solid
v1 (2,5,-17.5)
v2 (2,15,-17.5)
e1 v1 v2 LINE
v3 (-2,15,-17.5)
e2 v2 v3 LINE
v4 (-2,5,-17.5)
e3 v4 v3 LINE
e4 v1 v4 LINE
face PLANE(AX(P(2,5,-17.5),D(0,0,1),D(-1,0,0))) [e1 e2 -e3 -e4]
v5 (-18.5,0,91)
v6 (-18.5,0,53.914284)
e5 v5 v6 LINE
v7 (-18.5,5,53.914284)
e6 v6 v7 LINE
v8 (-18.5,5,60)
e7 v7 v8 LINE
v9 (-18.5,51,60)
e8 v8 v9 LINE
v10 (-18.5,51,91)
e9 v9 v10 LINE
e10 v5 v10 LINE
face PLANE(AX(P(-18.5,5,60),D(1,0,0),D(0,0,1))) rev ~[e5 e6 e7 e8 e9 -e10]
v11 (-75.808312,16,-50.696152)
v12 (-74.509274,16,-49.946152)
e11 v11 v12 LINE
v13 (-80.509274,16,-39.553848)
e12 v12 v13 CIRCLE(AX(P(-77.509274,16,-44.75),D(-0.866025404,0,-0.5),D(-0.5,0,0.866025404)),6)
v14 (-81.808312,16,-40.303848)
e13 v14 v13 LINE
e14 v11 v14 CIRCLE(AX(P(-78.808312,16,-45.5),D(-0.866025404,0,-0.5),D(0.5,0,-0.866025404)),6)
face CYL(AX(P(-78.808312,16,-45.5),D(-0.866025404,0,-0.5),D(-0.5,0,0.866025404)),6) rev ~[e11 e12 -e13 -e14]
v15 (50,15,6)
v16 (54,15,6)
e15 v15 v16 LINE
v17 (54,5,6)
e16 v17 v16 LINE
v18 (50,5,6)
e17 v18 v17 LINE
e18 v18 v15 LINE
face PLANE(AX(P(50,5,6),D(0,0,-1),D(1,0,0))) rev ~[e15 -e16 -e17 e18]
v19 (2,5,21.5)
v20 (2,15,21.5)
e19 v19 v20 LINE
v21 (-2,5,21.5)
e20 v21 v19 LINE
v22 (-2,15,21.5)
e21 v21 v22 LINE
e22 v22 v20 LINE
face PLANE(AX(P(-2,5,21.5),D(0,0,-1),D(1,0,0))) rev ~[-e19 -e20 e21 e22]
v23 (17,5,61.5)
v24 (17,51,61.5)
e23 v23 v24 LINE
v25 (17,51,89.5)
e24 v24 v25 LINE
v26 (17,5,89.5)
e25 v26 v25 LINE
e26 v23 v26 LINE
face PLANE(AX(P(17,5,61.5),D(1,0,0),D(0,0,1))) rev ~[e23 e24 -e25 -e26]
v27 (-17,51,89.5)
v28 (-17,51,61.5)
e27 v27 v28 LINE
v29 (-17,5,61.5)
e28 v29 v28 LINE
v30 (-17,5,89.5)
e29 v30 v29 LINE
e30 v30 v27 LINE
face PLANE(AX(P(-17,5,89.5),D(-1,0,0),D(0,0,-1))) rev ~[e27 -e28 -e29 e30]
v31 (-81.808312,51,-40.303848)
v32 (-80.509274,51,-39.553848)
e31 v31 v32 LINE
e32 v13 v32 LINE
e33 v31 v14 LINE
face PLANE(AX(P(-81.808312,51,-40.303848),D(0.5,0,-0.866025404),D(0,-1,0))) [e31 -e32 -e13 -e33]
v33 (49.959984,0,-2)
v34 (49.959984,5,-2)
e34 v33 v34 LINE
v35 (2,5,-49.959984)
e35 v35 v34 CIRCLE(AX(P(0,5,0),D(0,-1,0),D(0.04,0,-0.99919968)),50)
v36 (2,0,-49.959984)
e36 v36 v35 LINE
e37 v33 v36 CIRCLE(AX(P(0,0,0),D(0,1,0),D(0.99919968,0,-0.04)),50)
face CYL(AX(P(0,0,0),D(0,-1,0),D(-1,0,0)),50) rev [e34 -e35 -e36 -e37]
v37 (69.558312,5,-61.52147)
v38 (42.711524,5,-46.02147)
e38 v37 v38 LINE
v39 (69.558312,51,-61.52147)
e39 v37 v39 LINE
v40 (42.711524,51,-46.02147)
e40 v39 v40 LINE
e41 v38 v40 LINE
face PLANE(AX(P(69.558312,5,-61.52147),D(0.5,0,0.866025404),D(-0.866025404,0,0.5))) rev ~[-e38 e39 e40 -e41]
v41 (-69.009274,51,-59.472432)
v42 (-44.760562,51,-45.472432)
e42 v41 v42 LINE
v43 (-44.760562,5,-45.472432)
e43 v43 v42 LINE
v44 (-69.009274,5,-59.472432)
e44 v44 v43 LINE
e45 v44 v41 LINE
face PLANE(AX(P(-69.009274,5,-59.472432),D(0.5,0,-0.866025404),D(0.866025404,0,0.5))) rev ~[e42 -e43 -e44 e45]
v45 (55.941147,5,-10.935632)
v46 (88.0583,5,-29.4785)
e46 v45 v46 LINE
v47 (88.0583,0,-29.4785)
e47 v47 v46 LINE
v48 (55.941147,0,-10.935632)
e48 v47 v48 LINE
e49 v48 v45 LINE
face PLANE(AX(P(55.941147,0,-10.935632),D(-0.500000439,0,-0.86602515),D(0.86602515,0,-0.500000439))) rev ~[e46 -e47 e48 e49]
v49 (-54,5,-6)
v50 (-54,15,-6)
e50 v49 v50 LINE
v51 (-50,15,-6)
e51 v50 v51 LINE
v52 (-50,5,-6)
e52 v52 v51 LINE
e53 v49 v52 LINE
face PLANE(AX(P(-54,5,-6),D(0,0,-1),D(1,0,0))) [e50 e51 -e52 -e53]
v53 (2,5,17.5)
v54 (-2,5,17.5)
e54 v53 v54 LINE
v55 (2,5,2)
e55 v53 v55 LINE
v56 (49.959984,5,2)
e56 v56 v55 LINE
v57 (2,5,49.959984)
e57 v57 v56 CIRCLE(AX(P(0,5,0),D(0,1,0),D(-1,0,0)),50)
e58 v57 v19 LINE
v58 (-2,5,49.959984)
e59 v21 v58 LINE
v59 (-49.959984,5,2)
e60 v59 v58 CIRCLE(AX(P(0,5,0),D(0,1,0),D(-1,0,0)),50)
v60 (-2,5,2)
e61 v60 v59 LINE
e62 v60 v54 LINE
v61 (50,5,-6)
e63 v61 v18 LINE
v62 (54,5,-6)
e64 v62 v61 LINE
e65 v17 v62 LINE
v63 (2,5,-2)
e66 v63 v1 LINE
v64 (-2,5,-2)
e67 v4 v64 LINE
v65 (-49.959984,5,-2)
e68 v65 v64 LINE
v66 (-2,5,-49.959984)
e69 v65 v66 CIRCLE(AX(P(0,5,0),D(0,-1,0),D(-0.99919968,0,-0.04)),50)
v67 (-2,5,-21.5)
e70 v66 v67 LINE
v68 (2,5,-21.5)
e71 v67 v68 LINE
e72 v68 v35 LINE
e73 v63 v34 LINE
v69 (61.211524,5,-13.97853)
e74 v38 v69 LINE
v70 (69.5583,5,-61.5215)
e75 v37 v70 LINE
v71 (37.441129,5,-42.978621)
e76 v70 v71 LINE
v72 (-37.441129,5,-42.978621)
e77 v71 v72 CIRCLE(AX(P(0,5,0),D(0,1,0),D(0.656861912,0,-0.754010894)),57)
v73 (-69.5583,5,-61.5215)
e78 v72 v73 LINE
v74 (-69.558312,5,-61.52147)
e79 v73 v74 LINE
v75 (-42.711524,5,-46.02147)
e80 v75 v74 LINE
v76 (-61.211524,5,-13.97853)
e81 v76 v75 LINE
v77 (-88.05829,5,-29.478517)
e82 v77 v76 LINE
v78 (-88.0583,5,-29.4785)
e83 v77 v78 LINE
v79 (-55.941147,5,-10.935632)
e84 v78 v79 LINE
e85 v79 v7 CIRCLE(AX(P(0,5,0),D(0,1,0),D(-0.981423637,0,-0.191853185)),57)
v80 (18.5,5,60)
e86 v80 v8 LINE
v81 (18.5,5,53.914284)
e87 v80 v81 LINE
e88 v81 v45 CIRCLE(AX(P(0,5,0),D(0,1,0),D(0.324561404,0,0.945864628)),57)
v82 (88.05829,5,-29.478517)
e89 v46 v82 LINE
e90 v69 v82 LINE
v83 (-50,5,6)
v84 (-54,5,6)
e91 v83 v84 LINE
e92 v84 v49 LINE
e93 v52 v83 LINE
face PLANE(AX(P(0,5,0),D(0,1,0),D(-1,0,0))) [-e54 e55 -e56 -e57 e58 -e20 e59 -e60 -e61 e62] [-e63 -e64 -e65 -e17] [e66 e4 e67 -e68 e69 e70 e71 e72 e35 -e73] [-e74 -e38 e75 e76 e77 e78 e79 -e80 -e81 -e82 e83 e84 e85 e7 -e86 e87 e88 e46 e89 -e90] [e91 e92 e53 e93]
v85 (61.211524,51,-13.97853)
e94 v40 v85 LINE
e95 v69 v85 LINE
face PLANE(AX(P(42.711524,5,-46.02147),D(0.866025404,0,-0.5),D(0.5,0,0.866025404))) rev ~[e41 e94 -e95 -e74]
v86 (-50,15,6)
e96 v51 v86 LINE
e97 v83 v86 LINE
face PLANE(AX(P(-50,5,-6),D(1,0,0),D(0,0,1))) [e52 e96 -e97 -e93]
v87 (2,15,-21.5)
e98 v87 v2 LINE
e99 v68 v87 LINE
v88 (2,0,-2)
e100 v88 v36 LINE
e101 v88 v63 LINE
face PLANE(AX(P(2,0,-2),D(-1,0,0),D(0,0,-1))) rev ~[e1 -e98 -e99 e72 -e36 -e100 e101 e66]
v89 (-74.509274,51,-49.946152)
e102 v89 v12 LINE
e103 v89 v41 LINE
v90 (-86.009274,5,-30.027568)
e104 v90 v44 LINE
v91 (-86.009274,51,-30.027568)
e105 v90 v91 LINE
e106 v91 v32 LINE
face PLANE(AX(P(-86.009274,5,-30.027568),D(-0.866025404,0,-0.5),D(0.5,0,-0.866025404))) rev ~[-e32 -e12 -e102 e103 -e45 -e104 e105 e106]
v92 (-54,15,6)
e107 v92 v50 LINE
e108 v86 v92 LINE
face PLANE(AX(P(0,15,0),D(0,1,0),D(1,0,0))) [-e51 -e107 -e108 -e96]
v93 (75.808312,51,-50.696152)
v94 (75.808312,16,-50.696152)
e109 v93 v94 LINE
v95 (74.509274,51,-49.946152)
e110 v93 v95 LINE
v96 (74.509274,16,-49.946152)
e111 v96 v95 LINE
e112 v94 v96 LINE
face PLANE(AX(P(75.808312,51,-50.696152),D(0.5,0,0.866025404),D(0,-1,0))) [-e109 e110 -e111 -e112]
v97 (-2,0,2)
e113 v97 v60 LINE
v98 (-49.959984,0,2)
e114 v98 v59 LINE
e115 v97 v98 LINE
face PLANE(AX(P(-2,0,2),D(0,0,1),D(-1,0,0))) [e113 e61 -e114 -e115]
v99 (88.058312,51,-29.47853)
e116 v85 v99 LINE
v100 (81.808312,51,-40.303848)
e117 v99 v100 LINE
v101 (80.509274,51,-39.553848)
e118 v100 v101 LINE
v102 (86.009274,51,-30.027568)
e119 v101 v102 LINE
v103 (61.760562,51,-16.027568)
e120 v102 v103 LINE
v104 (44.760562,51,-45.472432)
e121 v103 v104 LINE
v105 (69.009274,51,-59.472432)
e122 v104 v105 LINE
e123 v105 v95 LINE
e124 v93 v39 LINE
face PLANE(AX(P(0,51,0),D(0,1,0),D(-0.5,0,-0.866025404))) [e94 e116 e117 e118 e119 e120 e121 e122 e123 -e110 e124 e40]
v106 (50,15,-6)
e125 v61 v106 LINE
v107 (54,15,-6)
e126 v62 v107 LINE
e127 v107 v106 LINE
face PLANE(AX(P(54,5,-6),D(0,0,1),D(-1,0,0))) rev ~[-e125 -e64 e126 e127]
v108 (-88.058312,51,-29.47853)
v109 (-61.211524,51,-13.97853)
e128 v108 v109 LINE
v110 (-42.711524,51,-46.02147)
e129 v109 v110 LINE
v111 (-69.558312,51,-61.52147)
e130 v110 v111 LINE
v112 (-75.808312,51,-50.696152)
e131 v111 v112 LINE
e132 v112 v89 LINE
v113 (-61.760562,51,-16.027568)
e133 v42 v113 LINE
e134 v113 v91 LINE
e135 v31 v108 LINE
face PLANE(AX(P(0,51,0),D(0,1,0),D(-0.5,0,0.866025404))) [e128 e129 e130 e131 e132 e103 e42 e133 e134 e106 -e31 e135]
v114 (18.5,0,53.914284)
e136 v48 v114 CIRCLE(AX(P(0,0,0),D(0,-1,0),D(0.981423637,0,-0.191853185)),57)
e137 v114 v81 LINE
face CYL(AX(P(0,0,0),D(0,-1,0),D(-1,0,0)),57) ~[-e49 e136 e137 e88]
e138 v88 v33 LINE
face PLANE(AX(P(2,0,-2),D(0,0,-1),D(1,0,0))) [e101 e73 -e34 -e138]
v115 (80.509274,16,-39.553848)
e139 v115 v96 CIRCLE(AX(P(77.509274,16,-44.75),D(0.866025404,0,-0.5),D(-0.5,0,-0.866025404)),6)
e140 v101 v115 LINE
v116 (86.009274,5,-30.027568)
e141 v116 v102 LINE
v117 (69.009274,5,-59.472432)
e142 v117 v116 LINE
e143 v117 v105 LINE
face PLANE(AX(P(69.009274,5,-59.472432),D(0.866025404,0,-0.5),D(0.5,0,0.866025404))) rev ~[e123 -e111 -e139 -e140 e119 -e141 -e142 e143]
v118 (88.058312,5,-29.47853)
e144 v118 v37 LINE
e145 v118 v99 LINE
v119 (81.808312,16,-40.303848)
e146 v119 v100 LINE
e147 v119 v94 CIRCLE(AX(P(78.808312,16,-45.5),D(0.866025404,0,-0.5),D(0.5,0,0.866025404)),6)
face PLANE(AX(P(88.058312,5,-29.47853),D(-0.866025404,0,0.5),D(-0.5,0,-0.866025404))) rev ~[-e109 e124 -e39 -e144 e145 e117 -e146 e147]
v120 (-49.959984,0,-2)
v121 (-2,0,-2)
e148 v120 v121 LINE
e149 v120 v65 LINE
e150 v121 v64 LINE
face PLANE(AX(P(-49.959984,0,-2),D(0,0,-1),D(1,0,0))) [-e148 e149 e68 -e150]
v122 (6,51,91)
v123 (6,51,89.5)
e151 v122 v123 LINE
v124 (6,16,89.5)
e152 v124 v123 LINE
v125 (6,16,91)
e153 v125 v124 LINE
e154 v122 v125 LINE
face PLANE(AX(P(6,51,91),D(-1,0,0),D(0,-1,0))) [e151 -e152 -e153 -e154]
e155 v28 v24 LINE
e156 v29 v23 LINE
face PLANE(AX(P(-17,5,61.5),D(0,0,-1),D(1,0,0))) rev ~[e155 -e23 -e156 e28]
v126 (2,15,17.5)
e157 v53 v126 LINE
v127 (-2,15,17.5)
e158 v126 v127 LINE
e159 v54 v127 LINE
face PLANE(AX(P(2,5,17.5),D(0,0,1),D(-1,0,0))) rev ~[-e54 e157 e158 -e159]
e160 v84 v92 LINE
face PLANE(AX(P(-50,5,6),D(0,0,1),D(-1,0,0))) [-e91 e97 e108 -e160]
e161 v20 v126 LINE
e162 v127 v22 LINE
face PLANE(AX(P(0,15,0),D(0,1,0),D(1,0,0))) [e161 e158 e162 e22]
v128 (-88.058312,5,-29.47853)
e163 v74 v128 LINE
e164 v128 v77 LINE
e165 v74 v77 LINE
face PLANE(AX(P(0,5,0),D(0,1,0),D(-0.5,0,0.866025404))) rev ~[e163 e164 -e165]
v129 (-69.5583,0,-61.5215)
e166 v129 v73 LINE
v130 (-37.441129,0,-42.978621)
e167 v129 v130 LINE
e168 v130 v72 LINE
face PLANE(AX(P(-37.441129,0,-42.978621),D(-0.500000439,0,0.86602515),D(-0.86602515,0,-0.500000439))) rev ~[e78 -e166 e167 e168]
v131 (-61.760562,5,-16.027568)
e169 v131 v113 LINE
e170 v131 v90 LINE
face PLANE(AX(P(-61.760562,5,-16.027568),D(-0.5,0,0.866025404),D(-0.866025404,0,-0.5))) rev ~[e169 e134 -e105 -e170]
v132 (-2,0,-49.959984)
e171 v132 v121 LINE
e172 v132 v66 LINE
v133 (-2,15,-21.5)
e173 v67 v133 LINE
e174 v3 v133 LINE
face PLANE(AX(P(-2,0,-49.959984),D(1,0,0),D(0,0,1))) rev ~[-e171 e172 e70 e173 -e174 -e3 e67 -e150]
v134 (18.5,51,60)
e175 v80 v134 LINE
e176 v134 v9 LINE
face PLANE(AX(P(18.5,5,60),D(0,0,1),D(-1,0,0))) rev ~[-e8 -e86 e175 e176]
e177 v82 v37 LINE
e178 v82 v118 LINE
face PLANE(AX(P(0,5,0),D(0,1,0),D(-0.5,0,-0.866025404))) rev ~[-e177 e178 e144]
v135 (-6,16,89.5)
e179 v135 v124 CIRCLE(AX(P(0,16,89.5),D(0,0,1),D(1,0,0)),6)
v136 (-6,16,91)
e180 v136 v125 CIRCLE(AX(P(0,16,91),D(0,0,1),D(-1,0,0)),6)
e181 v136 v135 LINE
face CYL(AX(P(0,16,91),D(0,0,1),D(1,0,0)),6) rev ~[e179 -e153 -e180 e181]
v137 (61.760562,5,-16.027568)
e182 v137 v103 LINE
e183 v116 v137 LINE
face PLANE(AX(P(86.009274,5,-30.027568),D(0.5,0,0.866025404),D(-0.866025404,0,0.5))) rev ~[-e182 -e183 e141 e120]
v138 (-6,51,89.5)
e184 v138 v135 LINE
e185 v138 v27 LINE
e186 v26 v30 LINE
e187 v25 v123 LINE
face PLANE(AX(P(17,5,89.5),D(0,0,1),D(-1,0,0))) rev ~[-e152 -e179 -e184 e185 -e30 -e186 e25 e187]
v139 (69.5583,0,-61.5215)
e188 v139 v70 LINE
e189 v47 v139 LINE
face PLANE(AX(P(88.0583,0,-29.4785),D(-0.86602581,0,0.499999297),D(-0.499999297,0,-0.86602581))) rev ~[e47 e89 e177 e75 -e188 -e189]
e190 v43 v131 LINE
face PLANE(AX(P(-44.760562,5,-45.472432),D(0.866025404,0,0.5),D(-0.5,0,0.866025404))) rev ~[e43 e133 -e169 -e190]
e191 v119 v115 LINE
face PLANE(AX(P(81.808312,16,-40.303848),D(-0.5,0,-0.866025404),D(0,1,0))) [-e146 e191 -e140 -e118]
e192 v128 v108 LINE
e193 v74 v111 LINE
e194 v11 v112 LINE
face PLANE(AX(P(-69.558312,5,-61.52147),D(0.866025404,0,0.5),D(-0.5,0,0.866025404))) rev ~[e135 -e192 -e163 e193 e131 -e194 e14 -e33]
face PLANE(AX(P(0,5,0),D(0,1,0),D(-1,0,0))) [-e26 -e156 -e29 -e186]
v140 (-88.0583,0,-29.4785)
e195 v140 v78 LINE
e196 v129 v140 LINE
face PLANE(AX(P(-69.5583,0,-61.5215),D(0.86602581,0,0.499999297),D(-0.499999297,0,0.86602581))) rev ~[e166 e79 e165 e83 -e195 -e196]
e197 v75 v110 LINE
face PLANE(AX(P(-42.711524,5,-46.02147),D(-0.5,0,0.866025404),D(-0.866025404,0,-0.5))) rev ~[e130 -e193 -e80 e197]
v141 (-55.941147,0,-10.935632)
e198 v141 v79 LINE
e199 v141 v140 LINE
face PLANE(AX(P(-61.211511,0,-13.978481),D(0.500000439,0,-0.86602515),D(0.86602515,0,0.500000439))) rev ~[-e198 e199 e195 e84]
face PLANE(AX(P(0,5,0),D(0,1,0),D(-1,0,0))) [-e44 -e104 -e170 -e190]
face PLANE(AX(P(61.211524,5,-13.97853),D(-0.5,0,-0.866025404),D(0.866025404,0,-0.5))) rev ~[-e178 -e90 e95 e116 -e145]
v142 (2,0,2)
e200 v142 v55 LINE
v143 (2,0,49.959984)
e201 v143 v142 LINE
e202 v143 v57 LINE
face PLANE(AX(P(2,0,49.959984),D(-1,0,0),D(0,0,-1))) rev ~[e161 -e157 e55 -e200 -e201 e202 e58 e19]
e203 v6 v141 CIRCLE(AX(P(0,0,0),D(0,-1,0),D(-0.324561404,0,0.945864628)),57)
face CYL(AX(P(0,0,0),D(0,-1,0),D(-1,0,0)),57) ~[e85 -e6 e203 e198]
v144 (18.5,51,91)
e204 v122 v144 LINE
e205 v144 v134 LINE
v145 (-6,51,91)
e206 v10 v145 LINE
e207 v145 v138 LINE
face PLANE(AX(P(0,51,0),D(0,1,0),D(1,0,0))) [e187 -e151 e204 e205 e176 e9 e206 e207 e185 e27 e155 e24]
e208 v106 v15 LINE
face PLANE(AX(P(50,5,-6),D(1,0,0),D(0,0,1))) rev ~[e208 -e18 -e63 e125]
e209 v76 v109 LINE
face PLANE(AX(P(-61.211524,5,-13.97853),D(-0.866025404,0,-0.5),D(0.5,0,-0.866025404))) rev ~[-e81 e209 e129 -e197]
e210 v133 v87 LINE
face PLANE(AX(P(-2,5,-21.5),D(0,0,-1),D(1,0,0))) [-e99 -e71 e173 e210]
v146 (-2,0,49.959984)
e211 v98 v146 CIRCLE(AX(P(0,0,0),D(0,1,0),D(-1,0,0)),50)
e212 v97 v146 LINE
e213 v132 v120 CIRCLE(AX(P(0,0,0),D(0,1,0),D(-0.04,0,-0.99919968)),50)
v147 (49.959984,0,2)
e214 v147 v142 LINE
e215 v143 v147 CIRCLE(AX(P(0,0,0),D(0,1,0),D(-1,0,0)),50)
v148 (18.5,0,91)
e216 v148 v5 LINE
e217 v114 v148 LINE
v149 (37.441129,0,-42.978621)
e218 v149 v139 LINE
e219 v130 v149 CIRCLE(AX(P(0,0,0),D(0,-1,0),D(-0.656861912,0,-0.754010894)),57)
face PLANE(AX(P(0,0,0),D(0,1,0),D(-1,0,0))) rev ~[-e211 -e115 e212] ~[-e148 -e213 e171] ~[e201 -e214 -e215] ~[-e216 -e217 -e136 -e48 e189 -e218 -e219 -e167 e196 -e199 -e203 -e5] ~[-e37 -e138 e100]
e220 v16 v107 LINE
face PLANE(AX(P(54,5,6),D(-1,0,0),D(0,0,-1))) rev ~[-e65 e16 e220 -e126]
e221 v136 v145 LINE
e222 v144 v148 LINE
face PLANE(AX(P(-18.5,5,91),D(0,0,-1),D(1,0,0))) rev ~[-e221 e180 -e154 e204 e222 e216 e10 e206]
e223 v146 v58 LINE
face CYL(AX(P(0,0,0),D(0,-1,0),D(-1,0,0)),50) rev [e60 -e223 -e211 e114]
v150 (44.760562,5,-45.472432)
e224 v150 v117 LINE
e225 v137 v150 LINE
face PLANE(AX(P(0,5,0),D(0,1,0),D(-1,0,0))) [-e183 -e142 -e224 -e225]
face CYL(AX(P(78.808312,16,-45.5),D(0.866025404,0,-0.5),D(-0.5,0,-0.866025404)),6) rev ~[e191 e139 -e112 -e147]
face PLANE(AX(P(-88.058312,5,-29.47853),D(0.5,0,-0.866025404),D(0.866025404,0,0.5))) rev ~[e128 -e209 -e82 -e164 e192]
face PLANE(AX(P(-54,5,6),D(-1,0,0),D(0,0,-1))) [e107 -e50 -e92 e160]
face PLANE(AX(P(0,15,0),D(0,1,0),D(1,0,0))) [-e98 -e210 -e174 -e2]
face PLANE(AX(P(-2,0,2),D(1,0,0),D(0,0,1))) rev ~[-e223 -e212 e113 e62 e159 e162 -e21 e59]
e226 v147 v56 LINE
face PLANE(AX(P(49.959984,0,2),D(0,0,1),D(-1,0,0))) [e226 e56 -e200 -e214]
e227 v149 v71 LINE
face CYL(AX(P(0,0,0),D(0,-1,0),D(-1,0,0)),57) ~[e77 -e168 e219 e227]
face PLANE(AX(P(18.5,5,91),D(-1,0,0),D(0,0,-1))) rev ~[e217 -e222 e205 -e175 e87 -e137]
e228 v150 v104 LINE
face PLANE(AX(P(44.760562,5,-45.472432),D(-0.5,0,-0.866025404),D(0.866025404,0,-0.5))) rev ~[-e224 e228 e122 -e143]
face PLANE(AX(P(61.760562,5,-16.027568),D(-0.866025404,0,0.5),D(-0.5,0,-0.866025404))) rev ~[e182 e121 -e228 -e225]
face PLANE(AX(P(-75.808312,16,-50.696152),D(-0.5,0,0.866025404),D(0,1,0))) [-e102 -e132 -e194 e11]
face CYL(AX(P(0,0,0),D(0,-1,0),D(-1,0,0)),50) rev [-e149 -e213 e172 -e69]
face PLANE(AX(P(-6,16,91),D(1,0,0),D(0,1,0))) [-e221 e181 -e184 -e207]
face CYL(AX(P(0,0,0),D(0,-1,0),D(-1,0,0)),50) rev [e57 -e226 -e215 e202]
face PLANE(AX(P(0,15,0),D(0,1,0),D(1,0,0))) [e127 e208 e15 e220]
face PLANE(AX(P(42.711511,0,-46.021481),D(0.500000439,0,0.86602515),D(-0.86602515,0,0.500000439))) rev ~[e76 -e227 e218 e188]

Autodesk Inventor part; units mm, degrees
ref_plane "YZ Plane" through (0, 0, 0) normal (1, 0, 0) x (0, 1, 0)
ref_plane "XZ Plane" through (0, 0, 0) normal (0, 1, 0) x (-1, 0, 0)
ref_plane "XY Plane" through (0, 0, 0) normal (0, 0, 1) x (1, 0, 0)
sketch "Sketch1" plane through (0, 0, 0) normal (0, 1, 0) x (-1, 0, 0)
  circle A0 centre (0, 0) radius 57
  circle A1 centre (0, 0) radius 50
  line L0 (0, -92.0258) -> (0, 121.5043) projected
  line L1 (123.2816, 0) -> (-123.2816, 0) projected
  line L2 (-50, 2) -> (50, 2)
  line L3 (50, 2) -> (50, -2)
  line L4 (50, -2) -> (-50, -2)
  line L5 (-50, -2) -> (-50, 2)
  line L6 (-50, 2) -> (50, -2) construction
  line L7 (50, 2) -> (-50, -2) construction
  line L8 (2, 50) -> (-2, 50)
  line L9 (-2, 50) -> (-2, -50)
  line L10 (-2, -50) -> (2, -50)
  line L11 (2, -50) -> (2, 50)
  line L12 (2, 50) -> (-2, -50) construction
  line L13 (-2, 50) -> (2, -50) construction
  line L14 (18.5, 91) -> (-18.5, 91)
  line L15 (-18.5, 91) -> (-18.5, 50)
  line L16 (-18.5, 50) -> (18.5, 50)
  line L17 (18.5, 50) -> (18.5, 91)
  line L18 (0, 91) -> (0, 50) construction
  line L19 (18.5, 60) -> (-18.5, 60)
  line L20 (-44.3013, -23.2679) -> (-42.3013, -26.7321)
  line L21 (-34.0513, -41.0215) -> (-52.5513, -8.9785)
  line L22 (-61.2115, -13.9785) -> (-42.7115, -46.0215)
  line L23 (-69.5583, -61.5215) -> (-34.0513, -41.0215)
  line L24 (-52.5513, -8.9785) -> (-88.0583, -29.4785)
  line L25 (-78.8083, -45.5) -> (-43.3013, -25) construction
  line L26 (-88.0583, -29.4785) -> (-69.5583, -61.5215)
  line L27 (42.3013, -26.7321) -> (44.3013, -23.2679)
  line L28 (52.5513, -8.9785) -> (34.0513, -41.0215)
  line L29 (42.7115, -46.0215) -> (61.2115, -13.9785)
  line L30 (88.0583, -29.4785) -> (52.5513, -8.9785)
  line L31 (34.0513, -41.0215) -> (69.5583, -61.5215)
  line L32 (78.8083, -45.5) -> (43.3013, -25) construction
  line L33 (69.5583, -61.5215) -> (88.0583, -29.4785)
  point P0 (2, -49.96)
  point P1 (2, -2)
  point P2 (49.96, -2)
  point P3 (-2, 49.96)
  point P4 (-2, 2)
  point P5 (-49.96, 2)
  point P6 (-2, -49.96)
  point P7 (-49.96, -2)
  point P8 (-2, -2)
  point P9 (-18.5, 53.9143)
  point P10 (-55.9411, -10.9357)
  point P11 (-37.4411, -42.9786)
  point P12 (37.4411, -42.9786)
  point P13 (55.9411, -10.9357)
  point P14 (18.5, 53.9143)
  point P15 (2, 49.96)
  point P16 (49.96, 2)
  point P17 (2, 2)
  dimension "d0" = 114
  dimension "d1" = 100
  dimension "d6" = 100
  dimension "d7" = 4
  dimension "d8" = 4
  dimension "d9" = 100
  dimension "d10" = 37
  dimension "d14" = 60
  dimension "d15" = 31
  dimension "d18" = 360
extrude "Extrusion1" add sketch "Sketch1" along normal blind 5 contours L1 L3 L2 A1 L11 L16 L17 A0 | A0 L30 L28 L27 A1 L4 L3 L1 | L17 L16 L8 L0 A0 | A0 L0 L19 L17 | L30 L29 L31 A0 | A0 L31 L28 L27 L30 | L1 L11 L2 A1 | L3 L4 A1 | A1 L4 L11 L1 | A1 L2 L3 | L0 L8 L16 L15 A0 | A0 L15 L19 L0 | L19 L0 L14 L17 | A0 L0 L10 L11 A1 L27 L28 L31 | L30 L33 L31 L29 | L11 L4 L0 L1 | L1 L0 L2 L11 | L15 L16 L9 A1 L2 L5 L1 A0 | L8 L11 A1 | L0 L2 L9 A1 | A1 L11 L2 L0 | A1 L9 L8 | L19 L15 L14 L0 | A0 L23 L21 L20 A1 L9 L10 L0 | L11 A1 L0 L4 | L1 L9 L2 L0 | L0 L4 L9 L1 | L1 L5 L4 A1 L20 L21 L24 A0 | L23 L22 L24 A0 | A0 L24 L21 L20 L23 | L10 L9 A1 | A1 L9 L4 L0 | A1 L11 L10 | L9 L4 A1 L1 | L1 A1 L2 L9 | L5 L2 A1 | A1 L4 L5 | L23 L26 L24 L22
sketch "Sketch2" plane through (0, 5, 0) normal (0, 1, 0) x (1, 0, 0)
  line L0 (-18.5, -53.9143) -> (-18.5, -91) projected
  line L1 (18.5, -91) -> (18.5, -53.9143) projected
  line L2 (-18.5, -91) -> (18.5, -91)
  line L3 (18.5, -91) -> (18.5, -60)
  line L4 (18.5, -60) -> (-18.5, -60)
  line L5 (-18.5, -60) -> (-18.5, -91)
  line L6 (-17, -61.5) -> (17, -61.5)
  line L7 (17, -61.5) -> (17, -89.5)
  line L8 (17, -89.5) -> (-17, -89.5)
  line L9 (-17, -89.5) -> (-17, -61.5)
  line L10 (88.0583, 29.4785) -> (69.5583, 61.5215)
  line L11 (69.5583, 61.5215) -> (42.7115, 46.0215)
  line L12 (42.7115, 46.0215) -> (61.2115, 13.9785)
  line L13 (61.2115, 13.9785) -> (88.0583, 29.4785)
  line L14 (61.7606, 16.0276) -> (44.7606, 45.4724)
  line L15 (44.7606, 45.4724) -> (69.0093, 59.4724)
  line L16 (69.0093, 59.4724) -> (86.0093, 30.0276)
  line L17 (86.0093, 30.0276) -> (61.7606, 16.0276)
  line L18 (-69.5583, 61.5215) -> (-88.0583, 29.4785)
  line L19 (-88.0583, 29.4785) -> (-61.2115, 13.9785)
  line L20 (-61.2115, 13.9785) -> (-42.7115, 46.0215)
  line L21 (-42.7115, 46.0215) -> (-69.5583, 61.5215)
  line L22 (-44.7606, 45.4724) -> (-61.7606, 16.0276)
  line L23 (-61.7606, 16.0276) -> (-86.0093, 30.0276)
  line L24 (-86.0093, 30.0276) -> (-69.0093, 59.4724)
  line L25 (-69.0093, 59.4724) -> (-44.7606, 45.4724)
  point P0 (0, 0)
  dimension "d22" = 31
  dimension "d23" = 1.5
  dimension "d26" = 360
extrude "Extrusion2" add sketch "Sketch2" along normal blind 46 contours L4 L1 L2 L0
sketch "Sketch4" plane through (-18.5, 0, 91) normal (0, 0, 1) x (1, 0, 0)
  line L0 (0, 51) -> (37, 51) construction
  line L1 (12.5, 51) -> (24.5, 51)
  line L2 (24.5, 51) -> (24.5, 10)
  line L3 (24.5, 10) -> (12.5, 10)
  line L4 (12.5, 10) -> (12.5, 51)
  line L5 (1.5, 5) -> (35.5, 5) construction
  line L6 (18.5, -10.2) -> (18.5, 61.2) construction
  circle A0 centre (18.5, 16) radius 6
  point P0 (18.5, 0)
  point P1 (12.5, 16)
  point P2 (24.5, 16)
  dimension "d36" = 12
  dimension "d37" = 5
  dimension "d38" = 6
extrude "Extrusion3" cut sketch "Sketch4" against normal up to next contours L1 L2 A0 L4 | A0
pattern_circular "Circular Pattern1" count 3 over 360 about axis through (0, -10, 0) along (0, 1, 0) of "Extrusion2", "Extrusion3"
sketch "Sketch5" plane through (0, 5, 0) normal (0, 1, 0) x (1, 0, 0)
  line L0 (-2, -21.5) -> (2, -21.5)
  line L1 (2, -21.5) -> (2, -17.5)
  line L2 (2, -17.5) -> (-2, -17.5)
  line L3 (-2, -17.5) -> (-2, -21.5)
  line L4 (-2, -2) -> (-2, -49.96) construction
  line L5 (2, -49.96) -> (2, -2) construction
  line L6 (-123.2816, 0) -> (123.2816, 0) construction
  line L7 (-2, 21.5) -> (2, 21.5)
  line L8 (2, 21.5) -> (2, 17.5)
  line L9 (2, 17.5) -> (-2, 17.5)
  line L10 (-2, 17.5) -> (-2, 21.5)
  arc A0 (-49.96, -2) -> (-2, -49.96) centre (0, 0) ccw construction
  arc A1 (-2, 49.96) -> (-49.96, 2) centre (0, 0) ccw construction
  circle A2 centre (0, 0) radius 50 construction
  line L11 (-54, 6) -> (-50, 6)
  line L12 (-50, 6) -> (-50, -6)
  line L13 (-50, -6) -> (-54, -6)
  line L14 (-54, -6) -> (-54, 6)
  line L15 (-54, 0) -> (-50, 0) construction
  line L16 (0, 92.0258) -> (0, -121.5043) construction
  line L17 (54, 6) -> (50, 6)
  line L18 (50, 6) -> (50, -6)
  line L19 (50, -6) -> (54, -6)
  line L20 (54, -6) -> (54, 6)
  line L21 (54, 0) -> (50, 0) construction
  point P0 (49.96, -2)
  point P1 (49.96, 2)
  dimension "d41" = 17.5
  dimension "d42" = 4
  dimension "d43" = 12
extrude "Extrusion4" add sketch "Sketch5" along normal blind 10
equation "\"d38\" = 0.5 * d36"
properties part number "bottom"
